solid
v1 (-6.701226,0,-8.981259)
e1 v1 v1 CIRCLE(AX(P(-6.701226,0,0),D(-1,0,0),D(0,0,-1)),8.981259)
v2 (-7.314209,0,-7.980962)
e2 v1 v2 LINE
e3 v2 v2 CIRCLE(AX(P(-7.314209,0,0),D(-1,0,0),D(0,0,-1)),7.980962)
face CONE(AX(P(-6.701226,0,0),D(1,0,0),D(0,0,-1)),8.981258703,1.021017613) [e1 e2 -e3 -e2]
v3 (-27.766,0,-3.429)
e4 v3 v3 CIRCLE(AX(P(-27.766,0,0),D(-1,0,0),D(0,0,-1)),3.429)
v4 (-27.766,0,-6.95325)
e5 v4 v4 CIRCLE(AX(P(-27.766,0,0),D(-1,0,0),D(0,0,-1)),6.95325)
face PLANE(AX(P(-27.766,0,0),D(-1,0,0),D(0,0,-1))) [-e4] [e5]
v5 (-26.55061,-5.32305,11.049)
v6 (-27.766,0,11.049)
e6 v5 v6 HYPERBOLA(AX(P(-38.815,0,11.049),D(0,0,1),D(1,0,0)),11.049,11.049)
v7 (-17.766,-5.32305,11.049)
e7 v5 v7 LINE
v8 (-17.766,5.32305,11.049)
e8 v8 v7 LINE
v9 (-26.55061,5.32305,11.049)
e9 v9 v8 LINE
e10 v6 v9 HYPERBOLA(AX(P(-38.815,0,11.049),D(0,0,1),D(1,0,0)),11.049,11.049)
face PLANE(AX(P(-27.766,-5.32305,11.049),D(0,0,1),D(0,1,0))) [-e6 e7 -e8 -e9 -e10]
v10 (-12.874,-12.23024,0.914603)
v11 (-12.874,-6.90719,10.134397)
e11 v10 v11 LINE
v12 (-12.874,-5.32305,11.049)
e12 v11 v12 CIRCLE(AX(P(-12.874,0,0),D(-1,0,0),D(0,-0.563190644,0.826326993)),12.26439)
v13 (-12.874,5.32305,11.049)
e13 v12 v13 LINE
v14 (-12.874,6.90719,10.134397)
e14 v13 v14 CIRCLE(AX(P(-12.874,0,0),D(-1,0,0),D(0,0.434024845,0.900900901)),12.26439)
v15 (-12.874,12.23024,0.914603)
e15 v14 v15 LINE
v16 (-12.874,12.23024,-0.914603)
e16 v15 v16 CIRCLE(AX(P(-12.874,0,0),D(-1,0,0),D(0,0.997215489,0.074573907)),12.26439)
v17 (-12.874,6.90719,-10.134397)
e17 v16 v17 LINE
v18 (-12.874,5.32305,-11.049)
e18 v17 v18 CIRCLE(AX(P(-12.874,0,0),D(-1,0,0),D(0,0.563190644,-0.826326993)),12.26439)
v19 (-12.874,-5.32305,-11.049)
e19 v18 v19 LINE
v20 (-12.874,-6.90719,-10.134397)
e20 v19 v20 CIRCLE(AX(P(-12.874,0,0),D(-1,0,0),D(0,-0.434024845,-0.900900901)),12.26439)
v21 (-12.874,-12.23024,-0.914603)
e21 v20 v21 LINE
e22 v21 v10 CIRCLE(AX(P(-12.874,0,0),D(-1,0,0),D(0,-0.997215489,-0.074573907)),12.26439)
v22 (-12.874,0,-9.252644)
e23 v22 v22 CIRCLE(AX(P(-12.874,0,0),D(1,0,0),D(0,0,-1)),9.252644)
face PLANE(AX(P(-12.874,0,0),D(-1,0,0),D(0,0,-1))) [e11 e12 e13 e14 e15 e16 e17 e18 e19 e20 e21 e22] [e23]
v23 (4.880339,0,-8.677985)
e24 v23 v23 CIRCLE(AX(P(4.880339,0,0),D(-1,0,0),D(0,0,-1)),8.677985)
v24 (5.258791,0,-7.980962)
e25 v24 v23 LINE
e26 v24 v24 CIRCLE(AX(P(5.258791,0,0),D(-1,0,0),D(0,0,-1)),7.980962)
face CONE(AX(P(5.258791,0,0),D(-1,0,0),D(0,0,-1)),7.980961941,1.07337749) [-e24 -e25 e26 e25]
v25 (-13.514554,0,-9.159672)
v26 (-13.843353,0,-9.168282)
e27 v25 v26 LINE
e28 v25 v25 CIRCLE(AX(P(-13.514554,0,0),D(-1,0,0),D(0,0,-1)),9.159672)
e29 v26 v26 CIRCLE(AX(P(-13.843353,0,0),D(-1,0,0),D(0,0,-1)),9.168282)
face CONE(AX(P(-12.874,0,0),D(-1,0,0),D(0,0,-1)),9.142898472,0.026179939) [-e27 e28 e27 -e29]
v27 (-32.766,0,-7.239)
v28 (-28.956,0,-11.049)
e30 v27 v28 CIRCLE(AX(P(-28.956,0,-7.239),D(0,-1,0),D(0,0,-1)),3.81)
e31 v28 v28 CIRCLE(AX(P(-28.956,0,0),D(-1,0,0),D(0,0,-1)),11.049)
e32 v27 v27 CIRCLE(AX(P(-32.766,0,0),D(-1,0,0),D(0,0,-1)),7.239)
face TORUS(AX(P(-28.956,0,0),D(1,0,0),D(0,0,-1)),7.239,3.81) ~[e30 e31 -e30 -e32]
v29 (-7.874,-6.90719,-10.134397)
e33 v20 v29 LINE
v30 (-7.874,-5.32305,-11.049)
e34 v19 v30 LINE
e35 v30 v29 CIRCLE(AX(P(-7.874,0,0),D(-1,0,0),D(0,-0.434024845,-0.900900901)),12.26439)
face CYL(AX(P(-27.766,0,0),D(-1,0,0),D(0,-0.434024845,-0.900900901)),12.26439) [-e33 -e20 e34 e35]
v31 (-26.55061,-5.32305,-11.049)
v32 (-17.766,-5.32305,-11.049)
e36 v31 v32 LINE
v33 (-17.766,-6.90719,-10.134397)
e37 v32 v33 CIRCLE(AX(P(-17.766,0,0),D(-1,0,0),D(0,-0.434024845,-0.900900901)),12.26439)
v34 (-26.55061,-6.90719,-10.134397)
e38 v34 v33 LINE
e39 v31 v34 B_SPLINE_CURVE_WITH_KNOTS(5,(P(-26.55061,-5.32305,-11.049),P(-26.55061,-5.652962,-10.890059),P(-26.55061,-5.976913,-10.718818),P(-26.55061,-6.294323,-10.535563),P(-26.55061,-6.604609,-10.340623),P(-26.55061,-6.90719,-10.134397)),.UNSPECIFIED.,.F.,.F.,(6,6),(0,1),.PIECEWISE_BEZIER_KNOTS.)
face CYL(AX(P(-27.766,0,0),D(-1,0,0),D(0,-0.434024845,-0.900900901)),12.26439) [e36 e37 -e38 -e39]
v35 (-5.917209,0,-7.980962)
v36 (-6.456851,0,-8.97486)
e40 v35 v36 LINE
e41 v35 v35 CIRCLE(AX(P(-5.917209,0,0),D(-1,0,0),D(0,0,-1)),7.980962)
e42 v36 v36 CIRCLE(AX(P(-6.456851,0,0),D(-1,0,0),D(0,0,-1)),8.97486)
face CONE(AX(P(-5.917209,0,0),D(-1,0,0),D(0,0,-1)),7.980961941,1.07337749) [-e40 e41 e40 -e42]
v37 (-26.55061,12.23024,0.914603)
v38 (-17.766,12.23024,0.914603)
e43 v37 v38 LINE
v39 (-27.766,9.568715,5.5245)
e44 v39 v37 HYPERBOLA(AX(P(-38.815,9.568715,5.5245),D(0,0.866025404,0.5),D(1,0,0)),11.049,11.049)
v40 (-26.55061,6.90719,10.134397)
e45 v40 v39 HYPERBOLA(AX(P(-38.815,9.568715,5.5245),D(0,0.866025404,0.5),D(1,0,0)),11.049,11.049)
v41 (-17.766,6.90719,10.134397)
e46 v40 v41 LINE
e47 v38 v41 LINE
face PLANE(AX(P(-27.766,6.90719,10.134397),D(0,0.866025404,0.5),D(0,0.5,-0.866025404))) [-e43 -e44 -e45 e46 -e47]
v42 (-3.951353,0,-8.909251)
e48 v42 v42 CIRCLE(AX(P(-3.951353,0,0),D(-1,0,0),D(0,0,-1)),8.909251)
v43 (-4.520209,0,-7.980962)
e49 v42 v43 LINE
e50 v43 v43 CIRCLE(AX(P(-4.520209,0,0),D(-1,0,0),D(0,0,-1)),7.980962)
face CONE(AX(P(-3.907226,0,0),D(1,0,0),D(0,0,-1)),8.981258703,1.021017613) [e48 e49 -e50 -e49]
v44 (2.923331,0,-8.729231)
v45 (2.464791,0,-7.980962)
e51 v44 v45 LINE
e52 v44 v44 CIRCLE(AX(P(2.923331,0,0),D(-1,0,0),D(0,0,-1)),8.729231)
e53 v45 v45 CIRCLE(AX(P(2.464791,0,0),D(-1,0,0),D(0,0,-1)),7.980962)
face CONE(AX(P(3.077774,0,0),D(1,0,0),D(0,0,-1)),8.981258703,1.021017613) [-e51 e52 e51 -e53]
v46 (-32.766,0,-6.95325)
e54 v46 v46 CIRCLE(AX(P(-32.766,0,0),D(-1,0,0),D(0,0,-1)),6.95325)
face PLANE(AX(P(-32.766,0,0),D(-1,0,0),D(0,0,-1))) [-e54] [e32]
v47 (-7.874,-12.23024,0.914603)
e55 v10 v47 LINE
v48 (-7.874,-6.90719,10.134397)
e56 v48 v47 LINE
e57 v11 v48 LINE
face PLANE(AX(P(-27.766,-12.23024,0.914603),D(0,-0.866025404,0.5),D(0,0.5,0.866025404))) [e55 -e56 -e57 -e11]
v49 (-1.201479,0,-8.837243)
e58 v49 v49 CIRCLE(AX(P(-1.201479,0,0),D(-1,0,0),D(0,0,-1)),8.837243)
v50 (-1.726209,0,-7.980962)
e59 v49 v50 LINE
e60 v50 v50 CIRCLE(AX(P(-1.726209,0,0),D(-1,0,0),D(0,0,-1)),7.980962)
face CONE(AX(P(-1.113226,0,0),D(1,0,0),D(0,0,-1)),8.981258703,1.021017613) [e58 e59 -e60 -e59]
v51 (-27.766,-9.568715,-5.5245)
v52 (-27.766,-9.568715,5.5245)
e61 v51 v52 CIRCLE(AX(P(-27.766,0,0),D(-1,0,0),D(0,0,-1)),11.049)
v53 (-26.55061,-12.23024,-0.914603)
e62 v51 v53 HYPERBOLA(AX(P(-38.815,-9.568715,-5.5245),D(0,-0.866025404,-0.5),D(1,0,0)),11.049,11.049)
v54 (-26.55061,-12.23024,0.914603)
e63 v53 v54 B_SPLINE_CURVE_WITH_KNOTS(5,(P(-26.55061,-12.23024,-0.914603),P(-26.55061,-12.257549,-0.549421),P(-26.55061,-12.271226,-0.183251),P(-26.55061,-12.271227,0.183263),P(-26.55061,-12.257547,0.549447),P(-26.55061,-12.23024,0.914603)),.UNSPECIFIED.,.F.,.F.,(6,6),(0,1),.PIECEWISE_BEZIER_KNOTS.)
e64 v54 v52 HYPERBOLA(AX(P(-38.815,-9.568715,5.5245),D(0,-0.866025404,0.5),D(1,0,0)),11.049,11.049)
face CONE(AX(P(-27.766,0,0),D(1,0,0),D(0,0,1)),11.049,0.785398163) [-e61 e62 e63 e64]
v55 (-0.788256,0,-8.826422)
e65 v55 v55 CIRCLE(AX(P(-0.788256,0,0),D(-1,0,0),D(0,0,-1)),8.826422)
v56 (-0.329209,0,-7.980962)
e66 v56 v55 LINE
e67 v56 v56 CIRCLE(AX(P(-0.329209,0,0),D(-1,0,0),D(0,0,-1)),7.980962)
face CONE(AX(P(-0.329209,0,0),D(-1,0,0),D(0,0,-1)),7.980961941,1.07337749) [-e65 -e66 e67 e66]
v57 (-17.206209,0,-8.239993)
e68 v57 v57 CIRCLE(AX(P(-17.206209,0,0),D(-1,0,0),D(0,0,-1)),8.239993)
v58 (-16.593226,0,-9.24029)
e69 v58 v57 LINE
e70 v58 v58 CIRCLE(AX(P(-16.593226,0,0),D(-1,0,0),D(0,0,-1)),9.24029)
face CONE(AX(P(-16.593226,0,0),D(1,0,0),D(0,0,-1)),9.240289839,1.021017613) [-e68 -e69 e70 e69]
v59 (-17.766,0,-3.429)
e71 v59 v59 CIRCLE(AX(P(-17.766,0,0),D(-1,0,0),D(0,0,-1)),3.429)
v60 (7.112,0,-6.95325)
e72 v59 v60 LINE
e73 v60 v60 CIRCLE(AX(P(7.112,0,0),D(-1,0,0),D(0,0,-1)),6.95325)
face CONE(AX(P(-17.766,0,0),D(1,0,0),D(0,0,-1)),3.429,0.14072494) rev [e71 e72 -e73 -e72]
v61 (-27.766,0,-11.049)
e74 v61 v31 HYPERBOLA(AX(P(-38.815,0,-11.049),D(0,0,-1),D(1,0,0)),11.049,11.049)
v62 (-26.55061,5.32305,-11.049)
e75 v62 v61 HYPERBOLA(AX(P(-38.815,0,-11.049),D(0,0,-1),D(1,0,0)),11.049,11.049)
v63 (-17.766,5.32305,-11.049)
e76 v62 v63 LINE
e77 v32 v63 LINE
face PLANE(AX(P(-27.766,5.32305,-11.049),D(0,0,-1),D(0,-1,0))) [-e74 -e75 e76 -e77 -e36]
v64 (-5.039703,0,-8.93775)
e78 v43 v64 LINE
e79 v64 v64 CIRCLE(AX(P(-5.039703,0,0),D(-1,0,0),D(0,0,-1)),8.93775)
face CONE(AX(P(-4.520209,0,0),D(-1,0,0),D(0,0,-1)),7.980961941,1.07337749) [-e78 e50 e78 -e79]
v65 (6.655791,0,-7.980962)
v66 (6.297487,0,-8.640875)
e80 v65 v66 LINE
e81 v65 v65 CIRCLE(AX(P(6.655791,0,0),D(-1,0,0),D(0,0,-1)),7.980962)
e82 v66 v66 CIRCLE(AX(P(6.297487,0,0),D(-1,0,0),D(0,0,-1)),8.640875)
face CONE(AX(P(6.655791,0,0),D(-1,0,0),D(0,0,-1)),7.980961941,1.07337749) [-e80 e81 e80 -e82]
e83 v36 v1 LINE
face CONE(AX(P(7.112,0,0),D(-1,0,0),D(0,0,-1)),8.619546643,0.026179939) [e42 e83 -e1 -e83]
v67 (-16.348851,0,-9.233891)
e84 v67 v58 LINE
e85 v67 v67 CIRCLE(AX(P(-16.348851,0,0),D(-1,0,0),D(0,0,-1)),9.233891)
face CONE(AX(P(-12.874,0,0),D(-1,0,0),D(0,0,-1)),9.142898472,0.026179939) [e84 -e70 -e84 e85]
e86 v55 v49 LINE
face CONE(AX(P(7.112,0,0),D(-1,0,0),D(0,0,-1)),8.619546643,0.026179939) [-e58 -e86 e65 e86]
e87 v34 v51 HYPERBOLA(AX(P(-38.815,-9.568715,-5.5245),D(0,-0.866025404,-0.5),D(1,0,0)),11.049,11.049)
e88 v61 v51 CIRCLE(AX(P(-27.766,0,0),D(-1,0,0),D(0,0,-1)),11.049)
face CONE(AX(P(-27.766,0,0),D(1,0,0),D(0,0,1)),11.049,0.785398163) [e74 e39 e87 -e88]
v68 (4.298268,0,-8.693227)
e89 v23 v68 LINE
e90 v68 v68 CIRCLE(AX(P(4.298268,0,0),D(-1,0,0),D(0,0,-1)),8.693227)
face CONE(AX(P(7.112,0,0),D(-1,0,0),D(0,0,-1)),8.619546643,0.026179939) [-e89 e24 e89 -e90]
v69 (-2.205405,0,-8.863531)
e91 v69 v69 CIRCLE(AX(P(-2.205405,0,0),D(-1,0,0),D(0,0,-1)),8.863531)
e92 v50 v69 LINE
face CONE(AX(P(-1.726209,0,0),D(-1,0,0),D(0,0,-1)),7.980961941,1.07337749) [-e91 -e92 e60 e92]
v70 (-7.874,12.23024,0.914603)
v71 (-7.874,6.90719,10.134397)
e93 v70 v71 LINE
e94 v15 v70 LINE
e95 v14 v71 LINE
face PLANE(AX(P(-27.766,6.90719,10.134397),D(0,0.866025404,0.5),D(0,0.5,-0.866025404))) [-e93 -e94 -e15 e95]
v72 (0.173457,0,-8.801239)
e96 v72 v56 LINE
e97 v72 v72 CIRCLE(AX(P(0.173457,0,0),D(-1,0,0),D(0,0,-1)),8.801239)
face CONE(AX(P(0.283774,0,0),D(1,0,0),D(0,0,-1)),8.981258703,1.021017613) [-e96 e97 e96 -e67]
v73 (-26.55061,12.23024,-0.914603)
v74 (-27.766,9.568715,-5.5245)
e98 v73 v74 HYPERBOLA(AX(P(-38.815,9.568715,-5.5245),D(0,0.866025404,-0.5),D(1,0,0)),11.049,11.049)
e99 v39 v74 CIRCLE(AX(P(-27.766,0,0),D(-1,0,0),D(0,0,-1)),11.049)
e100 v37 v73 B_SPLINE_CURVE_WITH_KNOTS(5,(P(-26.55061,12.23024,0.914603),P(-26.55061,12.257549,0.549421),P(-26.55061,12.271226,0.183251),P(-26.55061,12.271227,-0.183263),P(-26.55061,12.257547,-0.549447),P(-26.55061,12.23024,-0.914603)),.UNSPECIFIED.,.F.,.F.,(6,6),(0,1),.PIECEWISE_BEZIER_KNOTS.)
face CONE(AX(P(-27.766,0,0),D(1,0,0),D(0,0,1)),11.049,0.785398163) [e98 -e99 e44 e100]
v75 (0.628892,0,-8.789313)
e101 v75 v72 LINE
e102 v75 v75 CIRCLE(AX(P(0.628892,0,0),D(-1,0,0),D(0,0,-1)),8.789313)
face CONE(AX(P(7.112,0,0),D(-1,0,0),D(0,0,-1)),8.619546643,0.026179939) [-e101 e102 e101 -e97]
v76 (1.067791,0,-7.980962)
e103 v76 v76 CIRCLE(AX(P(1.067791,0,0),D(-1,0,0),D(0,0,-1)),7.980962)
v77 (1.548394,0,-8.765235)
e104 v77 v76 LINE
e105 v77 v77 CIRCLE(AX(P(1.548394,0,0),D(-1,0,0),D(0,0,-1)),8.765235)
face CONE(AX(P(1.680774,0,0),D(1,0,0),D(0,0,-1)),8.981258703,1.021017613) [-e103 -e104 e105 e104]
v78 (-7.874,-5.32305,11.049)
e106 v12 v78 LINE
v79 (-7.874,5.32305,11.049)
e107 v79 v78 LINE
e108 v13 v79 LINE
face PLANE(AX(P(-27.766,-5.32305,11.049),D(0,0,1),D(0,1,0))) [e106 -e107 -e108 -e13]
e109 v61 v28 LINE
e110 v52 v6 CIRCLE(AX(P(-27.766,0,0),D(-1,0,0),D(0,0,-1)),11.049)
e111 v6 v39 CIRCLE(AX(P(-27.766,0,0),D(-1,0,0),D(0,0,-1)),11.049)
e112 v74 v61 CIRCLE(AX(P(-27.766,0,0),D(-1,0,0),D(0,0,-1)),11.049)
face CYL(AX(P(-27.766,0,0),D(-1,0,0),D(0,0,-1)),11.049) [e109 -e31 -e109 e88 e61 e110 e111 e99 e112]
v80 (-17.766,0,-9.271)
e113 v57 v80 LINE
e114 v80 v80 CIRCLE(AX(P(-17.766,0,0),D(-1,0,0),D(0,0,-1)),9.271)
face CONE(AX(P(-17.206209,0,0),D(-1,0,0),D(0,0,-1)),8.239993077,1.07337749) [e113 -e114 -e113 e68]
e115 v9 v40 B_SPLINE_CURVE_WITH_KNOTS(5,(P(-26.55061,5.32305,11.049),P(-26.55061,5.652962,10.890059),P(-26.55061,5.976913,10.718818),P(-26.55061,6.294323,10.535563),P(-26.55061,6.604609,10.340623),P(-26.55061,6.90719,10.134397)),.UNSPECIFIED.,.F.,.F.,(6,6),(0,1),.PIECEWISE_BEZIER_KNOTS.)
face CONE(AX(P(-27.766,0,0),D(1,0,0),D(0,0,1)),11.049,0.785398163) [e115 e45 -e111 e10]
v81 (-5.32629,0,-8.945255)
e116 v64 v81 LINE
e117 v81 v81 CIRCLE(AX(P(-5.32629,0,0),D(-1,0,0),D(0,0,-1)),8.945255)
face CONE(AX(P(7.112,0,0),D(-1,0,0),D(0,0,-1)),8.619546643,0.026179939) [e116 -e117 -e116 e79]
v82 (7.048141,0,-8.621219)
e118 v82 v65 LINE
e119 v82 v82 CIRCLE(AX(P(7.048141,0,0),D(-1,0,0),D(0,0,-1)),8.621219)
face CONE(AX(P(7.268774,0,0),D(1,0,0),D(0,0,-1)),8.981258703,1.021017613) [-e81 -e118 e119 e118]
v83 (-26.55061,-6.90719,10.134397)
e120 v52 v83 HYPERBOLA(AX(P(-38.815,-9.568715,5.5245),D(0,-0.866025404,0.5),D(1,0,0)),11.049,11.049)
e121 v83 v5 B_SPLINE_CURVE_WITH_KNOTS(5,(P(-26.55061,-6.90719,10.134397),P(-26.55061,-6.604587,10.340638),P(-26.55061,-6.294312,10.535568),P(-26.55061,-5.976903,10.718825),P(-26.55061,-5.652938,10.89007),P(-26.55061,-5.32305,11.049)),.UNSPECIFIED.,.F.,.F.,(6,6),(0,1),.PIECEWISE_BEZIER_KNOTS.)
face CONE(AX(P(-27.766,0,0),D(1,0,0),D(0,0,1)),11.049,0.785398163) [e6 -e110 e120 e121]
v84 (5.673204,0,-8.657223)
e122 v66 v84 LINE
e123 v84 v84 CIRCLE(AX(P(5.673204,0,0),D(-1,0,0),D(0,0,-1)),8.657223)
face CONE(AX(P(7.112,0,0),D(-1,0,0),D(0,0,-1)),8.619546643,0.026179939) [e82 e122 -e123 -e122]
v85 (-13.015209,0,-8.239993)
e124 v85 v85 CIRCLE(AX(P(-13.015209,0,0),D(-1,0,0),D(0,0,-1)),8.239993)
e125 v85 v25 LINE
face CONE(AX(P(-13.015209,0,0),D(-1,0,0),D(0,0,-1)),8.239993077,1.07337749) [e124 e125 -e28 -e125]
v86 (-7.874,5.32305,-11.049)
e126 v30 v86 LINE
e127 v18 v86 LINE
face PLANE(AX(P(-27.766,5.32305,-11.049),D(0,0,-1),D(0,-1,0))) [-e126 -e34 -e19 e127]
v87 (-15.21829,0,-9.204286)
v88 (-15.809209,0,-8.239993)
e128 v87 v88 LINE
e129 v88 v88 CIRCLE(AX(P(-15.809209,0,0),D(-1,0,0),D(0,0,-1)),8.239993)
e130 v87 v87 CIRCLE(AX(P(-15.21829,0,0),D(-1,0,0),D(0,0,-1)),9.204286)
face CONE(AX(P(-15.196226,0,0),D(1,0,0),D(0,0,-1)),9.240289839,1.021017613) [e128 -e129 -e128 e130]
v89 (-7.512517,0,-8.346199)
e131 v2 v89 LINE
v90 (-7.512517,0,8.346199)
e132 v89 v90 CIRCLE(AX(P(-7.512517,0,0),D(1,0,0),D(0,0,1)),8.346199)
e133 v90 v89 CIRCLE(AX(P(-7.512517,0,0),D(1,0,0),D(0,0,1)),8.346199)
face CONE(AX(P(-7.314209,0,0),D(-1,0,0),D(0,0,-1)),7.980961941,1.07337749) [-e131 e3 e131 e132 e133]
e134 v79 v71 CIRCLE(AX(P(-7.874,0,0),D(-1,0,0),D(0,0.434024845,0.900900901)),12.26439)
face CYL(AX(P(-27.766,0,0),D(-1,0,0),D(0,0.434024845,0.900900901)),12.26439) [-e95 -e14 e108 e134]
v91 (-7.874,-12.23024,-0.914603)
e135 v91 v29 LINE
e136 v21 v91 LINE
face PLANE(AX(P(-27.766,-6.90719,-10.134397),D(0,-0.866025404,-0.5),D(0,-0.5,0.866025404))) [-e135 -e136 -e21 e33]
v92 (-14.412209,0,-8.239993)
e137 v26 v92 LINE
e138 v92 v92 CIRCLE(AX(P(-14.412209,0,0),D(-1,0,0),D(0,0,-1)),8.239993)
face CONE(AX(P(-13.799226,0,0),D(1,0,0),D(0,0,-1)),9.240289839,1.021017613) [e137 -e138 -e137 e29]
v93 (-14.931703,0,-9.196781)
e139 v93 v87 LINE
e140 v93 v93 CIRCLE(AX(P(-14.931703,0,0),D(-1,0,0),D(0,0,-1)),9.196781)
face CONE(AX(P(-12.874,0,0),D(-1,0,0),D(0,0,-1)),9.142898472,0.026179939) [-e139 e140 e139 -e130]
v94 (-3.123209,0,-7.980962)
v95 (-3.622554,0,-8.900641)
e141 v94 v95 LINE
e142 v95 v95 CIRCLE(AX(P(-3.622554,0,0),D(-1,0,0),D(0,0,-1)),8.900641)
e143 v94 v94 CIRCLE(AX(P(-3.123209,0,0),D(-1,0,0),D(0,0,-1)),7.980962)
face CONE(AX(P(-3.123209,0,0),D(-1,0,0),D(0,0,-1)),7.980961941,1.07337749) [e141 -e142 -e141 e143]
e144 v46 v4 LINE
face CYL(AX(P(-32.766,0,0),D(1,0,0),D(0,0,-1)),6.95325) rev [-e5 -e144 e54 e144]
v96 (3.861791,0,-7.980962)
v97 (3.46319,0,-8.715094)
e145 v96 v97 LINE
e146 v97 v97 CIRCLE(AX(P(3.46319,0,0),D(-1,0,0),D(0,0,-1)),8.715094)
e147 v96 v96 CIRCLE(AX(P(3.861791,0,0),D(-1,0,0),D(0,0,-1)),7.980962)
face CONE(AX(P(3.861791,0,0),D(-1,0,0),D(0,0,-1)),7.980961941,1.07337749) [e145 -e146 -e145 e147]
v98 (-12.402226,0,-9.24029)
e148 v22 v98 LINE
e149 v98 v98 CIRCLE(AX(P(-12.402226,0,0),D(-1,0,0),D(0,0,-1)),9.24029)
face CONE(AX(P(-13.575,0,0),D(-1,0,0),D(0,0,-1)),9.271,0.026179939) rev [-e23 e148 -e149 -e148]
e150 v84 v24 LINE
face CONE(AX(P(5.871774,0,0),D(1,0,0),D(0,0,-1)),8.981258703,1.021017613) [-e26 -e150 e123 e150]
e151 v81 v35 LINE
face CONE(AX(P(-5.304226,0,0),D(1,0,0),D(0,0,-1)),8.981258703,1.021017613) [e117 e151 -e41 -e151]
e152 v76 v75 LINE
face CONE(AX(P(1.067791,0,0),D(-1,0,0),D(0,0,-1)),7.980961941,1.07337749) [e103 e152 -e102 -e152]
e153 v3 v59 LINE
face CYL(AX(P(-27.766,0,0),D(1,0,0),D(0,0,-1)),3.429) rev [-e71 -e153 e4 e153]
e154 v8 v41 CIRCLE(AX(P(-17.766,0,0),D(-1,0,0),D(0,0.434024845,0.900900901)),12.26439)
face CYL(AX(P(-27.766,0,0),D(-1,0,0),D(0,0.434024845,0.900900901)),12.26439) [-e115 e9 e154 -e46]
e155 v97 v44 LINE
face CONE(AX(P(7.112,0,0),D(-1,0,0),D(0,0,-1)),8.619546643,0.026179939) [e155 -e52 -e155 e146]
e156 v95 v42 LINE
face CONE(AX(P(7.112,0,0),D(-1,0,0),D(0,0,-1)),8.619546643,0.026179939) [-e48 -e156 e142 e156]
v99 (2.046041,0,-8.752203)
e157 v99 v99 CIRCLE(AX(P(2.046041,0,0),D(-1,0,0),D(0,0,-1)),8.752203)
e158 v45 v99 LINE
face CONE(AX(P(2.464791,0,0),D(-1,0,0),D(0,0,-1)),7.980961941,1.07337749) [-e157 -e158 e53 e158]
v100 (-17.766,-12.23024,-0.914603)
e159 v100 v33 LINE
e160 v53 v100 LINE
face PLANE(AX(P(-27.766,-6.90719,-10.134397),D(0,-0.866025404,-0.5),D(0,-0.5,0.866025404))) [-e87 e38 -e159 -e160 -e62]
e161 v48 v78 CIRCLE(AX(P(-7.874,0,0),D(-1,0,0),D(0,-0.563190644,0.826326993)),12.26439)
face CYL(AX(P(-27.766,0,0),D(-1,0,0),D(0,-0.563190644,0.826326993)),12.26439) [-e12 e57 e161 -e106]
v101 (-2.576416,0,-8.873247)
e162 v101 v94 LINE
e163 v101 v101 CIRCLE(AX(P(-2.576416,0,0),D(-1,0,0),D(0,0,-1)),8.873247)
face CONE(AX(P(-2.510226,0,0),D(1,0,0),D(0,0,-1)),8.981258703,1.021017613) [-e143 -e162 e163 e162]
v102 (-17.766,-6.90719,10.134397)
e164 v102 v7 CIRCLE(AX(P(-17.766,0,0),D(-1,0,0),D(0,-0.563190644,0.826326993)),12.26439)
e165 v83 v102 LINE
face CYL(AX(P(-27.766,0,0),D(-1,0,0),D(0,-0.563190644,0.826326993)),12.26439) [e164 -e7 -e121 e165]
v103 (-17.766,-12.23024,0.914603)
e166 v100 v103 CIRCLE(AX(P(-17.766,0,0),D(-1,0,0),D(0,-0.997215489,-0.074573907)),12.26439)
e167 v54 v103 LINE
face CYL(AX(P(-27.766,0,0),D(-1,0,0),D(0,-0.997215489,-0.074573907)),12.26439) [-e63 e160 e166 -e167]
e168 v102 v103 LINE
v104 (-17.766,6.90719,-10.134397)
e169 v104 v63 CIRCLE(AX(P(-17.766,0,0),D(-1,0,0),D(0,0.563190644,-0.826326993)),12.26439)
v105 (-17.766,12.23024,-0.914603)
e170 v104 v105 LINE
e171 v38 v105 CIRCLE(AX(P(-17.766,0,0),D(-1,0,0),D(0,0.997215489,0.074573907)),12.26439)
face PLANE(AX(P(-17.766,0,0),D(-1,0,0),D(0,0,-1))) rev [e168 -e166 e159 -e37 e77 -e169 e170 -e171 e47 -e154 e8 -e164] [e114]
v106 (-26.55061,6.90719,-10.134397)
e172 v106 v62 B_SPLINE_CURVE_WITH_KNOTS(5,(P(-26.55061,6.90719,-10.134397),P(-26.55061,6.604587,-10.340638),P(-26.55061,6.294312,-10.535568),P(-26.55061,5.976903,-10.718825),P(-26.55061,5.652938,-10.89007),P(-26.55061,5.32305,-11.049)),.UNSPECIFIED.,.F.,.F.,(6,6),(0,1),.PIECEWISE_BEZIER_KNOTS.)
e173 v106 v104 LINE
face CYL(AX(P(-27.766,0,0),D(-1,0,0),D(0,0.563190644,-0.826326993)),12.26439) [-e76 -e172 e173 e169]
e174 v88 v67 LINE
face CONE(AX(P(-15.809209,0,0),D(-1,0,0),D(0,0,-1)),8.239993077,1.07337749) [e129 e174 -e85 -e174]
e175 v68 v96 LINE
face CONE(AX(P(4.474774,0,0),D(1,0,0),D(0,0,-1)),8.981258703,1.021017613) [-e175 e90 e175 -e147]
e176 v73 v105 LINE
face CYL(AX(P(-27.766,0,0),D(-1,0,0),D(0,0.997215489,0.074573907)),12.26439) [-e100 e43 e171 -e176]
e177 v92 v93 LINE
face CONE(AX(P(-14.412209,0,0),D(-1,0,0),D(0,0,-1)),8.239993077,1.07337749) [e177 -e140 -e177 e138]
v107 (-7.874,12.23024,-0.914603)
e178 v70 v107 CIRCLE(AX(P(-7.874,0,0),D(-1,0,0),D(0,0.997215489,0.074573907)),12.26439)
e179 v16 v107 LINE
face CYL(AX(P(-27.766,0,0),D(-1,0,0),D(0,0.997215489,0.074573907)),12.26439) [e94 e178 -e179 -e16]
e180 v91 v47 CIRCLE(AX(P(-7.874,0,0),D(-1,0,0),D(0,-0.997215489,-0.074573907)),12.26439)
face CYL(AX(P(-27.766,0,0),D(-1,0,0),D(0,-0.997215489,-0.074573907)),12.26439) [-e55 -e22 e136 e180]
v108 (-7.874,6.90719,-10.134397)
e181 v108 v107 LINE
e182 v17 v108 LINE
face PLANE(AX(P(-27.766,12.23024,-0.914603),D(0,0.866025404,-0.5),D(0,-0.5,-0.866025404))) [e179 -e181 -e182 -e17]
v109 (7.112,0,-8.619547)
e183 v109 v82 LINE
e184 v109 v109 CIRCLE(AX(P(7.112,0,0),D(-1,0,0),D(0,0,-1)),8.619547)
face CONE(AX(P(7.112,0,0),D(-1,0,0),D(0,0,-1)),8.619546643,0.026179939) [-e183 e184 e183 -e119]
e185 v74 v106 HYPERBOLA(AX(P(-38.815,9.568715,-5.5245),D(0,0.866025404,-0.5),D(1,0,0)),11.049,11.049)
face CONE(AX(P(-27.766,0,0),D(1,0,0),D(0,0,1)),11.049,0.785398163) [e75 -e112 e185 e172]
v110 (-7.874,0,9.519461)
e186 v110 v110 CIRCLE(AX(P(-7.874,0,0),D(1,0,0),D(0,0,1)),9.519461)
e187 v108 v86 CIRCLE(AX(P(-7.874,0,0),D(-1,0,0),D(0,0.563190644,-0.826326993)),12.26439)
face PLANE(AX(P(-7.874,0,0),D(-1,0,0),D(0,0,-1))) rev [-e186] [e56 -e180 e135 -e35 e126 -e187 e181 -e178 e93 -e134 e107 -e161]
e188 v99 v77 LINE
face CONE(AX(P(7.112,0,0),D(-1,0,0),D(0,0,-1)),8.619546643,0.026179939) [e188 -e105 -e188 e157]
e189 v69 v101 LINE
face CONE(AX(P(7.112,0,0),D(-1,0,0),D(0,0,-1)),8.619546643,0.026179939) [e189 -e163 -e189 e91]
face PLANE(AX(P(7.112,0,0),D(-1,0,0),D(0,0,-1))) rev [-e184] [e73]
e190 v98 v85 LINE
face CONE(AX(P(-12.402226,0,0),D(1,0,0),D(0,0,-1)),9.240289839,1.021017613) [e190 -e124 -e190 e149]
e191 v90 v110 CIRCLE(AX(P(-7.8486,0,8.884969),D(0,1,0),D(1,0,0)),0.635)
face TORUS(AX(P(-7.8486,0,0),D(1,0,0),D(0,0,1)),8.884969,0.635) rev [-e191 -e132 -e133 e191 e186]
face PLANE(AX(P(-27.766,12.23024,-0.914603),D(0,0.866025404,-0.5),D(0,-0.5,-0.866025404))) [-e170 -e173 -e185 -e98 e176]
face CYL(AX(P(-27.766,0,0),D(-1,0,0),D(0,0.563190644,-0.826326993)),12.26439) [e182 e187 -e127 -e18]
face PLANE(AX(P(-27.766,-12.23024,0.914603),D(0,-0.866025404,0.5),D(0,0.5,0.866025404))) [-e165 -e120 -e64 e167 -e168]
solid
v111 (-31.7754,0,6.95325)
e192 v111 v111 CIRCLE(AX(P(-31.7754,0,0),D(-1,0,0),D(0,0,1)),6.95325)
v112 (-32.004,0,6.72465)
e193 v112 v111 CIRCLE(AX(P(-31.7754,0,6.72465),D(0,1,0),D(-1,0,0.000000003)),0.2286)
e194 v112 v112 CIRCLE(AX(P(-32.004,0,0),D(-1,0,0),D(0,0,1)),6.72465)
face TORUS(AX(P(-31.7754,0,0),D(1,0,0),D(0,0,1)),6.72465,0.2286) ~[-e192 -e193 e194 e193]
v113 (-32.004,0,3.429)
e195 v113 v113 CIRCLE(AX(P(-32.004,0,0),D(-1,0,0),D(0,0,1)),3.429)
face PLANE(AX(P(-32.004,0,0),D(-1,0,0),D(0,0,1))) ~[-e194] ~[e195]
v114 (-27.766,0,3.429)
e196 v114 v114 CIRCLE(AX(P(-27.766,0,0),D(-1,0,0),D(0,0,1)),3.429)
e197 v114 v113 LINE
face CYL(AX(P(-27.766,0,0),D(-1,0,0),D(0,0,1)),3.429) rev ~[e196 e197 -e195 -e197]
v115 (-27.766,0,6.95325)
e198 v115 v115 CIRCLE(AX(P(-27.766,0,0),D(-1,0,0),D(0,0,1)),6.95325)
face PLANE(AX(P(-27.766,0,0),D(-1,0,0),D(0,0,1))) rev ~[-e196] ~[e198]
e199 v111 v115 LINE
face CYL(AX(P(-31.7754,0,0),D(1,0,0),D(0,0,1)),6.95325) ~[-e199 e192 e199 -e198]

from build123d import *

# Parameters (mm, degrees)
LPATTERN6_COUNT    = 4
LPATTERN6_PITCH    = 1.397
LPATTERN7_COUNT    = 11
LPATTERN7_PITCH    = 1.397
SKETCH12_OUTSIDE_W = 61.024
SKETCH12_OUTSIDE_H = 61.024
CUT_EXTRUDE2_DEPTH = 35.878
FILLET4_R          = 3.81
SKETCH19_OUTSIDE_W = 38.452
SKETCH19_OUTSIDE_H = 40.882
SKETCH19_OUTSIDE_R = 11.049
CUT_EXTRUDE3_DEPTH = 1.999996
CUT_EXTRUDE3_DRAFT = -45
SKETCH28_R         = 0.635


with BuildPart() as part:
    # Sketch10 → Revolve2 (revolve)
    with BuildSketch(Plane.XY, mode=Mode.PRIVATE) as revolve2_sk:
        Polygon((-27.766, 3.429), (-17.766, 3.429), (7.112, 6.95325), (7.112, 8.619546643), (-7.874, 9.011968864), (-7.874, 22.098), (-12.874, 22.098), (-12.874, 9.142898472), (-17.766, 9.271), (-17.766, 22.098), (-27.766, 22.098), (-27.766, 11.049), (-32.766, 11.049), (-32.766, 6.95325), (-27.766, 6.95325), align=None)
    revolve(revolve2_sk.sketch.rotate(Axis((0, 0, 0), (-1, 0, 0)), 90), axis=Axis((0, 0, 0), (-1, 0, 0)))  # turned: the seam where the file's is

    # Sketch26 → Cut-Revolve1 (revolve, cut)
    with BuildSketch(Plane.XY, mode=Mode.PRIVATE) as cut_revolve1_sk:
        Polygon((-17.766, 9.271), (-16.593226271, 9.240289839), (-17.206208915, 8.239993077), align=None)
    cut_revolve1 = revolve(cut_revolve1_sk.sketch.rotate(Axis((0, 0, 0), (-1, 0, 0)), 90), axis=Axis((0, 0, 0), (-1, 0, 0)), mode=Mode.SUBTRACT)  # turned: the seam where the file's is

    # LPattern6: Cut-Revolve1 ×4
    with Locations(*[(i * LPATTERN6_PITCH, 0, 0) for i in range(1, LPATTERN6_COUNT)]):
        add(cut_revolve1, mode=Mode.SUBTRACT)

    # Sketch27 → Cut-Revolve2 (revolve, cut)
    with BuildSketch(Plane.XY, mode=Mode.PRIVATE) as cut_revolve2_sk:
        Polygon((-7.874, 9.011968864), (-6.701226271, 8.981258703), (-7.314208915, 7.980961941), align=None)
    cut_revolve2 = revolve(cut_revolve2_sk.sketch.rotate(Axis((0, 0, 0), (-1, 0, 0)), 90), axis=Axis((0, 0, 0), (-1, 0, 0)), mode=Mode.SUBTRACT)  # turned: the seam where the file's is

    # LPattern7: Cut-Revolve2 ×11
    with Locations(*[(i * LPATTERN7_PITCH, 0, 0) for i in range(1, LPATTERN7_COUNT)]):
        add(cut_revolve2, mode=Mode.SUBTRACT)

    # Sketch12 outside → Cut-Extrude2 (cut, through all)
    with BuildSketch(Plane.ZY.offset(27.766)):
        Rectangle(SKETCH12_OUTSIDE_W, SKETCH12_OUTSIDE_H)
        with BuildLine():
            Line((-0.914603493, 12.230239676), (-10.134396507, 6.907189697))
            ThreePointArc((-10.134396507, 6.907189697), (-10.621273302, 6.132195), (-11.049, 5.323049978))
            Line((-11.049, 5.323049978), (-11.049, -5.323049978))
            ThreePointArc((-11.049, -5.323049978), (-10.621273302, -6.132195), (-10.134396507, -6.907189697))
            Line((-10.134396507, -6.907189697), (-0.914603493, -12.230239676))
            ThreePointArc((-0.914603493, -12.230239676), (0, -12.26439), (0.914603493, -12.230239676))
            Line((0.914603493, -12.230239676), (10.134396507, -6.907189697))
            ThreePointArc((10.134396507, -6.907189697), (10.621273302, -6.132195), (11.049, -5.323049978))
            Line((11.049, -5.323049978), (11.049, 5.323049978))
            ThreePointArc((11.049, 5.323049978), (10.621273302, 6.132195), (10.134396507, 6.907189697))
            Line((10.134396507, 6.907189697), (0.914603493, 12.230239676))
            ThreePointArc((0.914603493, 12.230239676), (0, 12.26439), (-0.914603493, 12.230239676))
        make_face(mode=Mode.SUBTRACT)
    extrude(amount=-CUT_EXTRUDE2_DEPTH, mode=Mode.SUBTRACT)

    # Fillet4
    fillet4_edges = [part.edges().sort_by_distance(p)[0] for p in [
        (-32.766, 0, 11.049),
    ]]
    fillet(fillet4_edges, radius=FILLET4_R)


with BuildPart() as body_2:
    # Sketch30 → Revolve8 (revolve)
    with BuildSketch(Plane.XY, mode=Mode.PRIVATE) as revolve8_sk:
        with BuildLine():
            Line((-31.7754, 6.95325), (-27.766, 6.95325))
            Line((-27.766, 6.95325), (-27.766, 3.429))
            Line((-27.766, 3.429), (-32.004, 3.429))
            Line((-32.004, 3.429), (-32.004, 6.72465))
            ThreePointArc((-32.004, 6.72465), (-31.93704461, 6.88629461), (-31.7754, 6.95325))
        make_face()
    revolve(revolve8_sk.sketch.rotate(Axis((0, 0, 0), (-1, 0, 0)), 270), axis=Axis((0, 0, 0), (-1, 0, 0)))  # turned: the seam where the file's is


with BuildPart() as cut_extrude3_tool:
    # Sketch19 outside → Cut-Extrude3 (with draft: the straight prism first)
    with BuildSketch(Plane.ZY.offset(27.766)):
        Rectangle(SKETCH19_OUTSIDE_W, SKETCH19_OUTSIDE_H)
        Circle(SKETCH19_OUTSIDE_R, mode=Mode.SUBTRACT)
    extrude(amount=-CUT_EXTRUDE3_DEPTH)
    # Cut-Extrude3: the draft: its side faces are tilted about the plane it starts from
    cut_extrude3_sides = [cut_extrude3_tool.faces().sort_by_distance(p)[0] for p in [
        (-26.766002, -20.441, 0),
        (-26.766002, 0, 19.226),
        (-26.766002, 20.441, 0),
        (-26.766002, 0, -19.226),
        (-26.766002, 0, -11.049),
    ]]
    draft(cut_extrude3_sides, Plane.ZY.offset(27.766), CUT_EXTRUDE3_DRAFT)


with BuildPart() as part_1:
    add(part.part)

    # Cut-Extrude3: cut by cut_extrude3_tool
    add(cut_extrude3_tool.part, mode=Mode.SUBTRACT)

    # Sketch28 → Cut-Revolve3 (revolve, cut)
    with BuildSketch(Plane.XY, mode=Mode.PRIVATE) as cut_revolve3_sk:
        with Locations((-7.8486, -8.884968864)):
            Circle(SKETCH28_R)
    revolve(cut_revolve3_sk.sketch.rotate(Axis((7.112, 0, 0), (-1, 0, 0)), 90), axis=Axis((7.112, 0, 0), (-1, 0, 0)), mode=Mode.SUBTRACT)  # turned: the seam where the file's is


solid = Compound([body_2.part, part_1.part])
